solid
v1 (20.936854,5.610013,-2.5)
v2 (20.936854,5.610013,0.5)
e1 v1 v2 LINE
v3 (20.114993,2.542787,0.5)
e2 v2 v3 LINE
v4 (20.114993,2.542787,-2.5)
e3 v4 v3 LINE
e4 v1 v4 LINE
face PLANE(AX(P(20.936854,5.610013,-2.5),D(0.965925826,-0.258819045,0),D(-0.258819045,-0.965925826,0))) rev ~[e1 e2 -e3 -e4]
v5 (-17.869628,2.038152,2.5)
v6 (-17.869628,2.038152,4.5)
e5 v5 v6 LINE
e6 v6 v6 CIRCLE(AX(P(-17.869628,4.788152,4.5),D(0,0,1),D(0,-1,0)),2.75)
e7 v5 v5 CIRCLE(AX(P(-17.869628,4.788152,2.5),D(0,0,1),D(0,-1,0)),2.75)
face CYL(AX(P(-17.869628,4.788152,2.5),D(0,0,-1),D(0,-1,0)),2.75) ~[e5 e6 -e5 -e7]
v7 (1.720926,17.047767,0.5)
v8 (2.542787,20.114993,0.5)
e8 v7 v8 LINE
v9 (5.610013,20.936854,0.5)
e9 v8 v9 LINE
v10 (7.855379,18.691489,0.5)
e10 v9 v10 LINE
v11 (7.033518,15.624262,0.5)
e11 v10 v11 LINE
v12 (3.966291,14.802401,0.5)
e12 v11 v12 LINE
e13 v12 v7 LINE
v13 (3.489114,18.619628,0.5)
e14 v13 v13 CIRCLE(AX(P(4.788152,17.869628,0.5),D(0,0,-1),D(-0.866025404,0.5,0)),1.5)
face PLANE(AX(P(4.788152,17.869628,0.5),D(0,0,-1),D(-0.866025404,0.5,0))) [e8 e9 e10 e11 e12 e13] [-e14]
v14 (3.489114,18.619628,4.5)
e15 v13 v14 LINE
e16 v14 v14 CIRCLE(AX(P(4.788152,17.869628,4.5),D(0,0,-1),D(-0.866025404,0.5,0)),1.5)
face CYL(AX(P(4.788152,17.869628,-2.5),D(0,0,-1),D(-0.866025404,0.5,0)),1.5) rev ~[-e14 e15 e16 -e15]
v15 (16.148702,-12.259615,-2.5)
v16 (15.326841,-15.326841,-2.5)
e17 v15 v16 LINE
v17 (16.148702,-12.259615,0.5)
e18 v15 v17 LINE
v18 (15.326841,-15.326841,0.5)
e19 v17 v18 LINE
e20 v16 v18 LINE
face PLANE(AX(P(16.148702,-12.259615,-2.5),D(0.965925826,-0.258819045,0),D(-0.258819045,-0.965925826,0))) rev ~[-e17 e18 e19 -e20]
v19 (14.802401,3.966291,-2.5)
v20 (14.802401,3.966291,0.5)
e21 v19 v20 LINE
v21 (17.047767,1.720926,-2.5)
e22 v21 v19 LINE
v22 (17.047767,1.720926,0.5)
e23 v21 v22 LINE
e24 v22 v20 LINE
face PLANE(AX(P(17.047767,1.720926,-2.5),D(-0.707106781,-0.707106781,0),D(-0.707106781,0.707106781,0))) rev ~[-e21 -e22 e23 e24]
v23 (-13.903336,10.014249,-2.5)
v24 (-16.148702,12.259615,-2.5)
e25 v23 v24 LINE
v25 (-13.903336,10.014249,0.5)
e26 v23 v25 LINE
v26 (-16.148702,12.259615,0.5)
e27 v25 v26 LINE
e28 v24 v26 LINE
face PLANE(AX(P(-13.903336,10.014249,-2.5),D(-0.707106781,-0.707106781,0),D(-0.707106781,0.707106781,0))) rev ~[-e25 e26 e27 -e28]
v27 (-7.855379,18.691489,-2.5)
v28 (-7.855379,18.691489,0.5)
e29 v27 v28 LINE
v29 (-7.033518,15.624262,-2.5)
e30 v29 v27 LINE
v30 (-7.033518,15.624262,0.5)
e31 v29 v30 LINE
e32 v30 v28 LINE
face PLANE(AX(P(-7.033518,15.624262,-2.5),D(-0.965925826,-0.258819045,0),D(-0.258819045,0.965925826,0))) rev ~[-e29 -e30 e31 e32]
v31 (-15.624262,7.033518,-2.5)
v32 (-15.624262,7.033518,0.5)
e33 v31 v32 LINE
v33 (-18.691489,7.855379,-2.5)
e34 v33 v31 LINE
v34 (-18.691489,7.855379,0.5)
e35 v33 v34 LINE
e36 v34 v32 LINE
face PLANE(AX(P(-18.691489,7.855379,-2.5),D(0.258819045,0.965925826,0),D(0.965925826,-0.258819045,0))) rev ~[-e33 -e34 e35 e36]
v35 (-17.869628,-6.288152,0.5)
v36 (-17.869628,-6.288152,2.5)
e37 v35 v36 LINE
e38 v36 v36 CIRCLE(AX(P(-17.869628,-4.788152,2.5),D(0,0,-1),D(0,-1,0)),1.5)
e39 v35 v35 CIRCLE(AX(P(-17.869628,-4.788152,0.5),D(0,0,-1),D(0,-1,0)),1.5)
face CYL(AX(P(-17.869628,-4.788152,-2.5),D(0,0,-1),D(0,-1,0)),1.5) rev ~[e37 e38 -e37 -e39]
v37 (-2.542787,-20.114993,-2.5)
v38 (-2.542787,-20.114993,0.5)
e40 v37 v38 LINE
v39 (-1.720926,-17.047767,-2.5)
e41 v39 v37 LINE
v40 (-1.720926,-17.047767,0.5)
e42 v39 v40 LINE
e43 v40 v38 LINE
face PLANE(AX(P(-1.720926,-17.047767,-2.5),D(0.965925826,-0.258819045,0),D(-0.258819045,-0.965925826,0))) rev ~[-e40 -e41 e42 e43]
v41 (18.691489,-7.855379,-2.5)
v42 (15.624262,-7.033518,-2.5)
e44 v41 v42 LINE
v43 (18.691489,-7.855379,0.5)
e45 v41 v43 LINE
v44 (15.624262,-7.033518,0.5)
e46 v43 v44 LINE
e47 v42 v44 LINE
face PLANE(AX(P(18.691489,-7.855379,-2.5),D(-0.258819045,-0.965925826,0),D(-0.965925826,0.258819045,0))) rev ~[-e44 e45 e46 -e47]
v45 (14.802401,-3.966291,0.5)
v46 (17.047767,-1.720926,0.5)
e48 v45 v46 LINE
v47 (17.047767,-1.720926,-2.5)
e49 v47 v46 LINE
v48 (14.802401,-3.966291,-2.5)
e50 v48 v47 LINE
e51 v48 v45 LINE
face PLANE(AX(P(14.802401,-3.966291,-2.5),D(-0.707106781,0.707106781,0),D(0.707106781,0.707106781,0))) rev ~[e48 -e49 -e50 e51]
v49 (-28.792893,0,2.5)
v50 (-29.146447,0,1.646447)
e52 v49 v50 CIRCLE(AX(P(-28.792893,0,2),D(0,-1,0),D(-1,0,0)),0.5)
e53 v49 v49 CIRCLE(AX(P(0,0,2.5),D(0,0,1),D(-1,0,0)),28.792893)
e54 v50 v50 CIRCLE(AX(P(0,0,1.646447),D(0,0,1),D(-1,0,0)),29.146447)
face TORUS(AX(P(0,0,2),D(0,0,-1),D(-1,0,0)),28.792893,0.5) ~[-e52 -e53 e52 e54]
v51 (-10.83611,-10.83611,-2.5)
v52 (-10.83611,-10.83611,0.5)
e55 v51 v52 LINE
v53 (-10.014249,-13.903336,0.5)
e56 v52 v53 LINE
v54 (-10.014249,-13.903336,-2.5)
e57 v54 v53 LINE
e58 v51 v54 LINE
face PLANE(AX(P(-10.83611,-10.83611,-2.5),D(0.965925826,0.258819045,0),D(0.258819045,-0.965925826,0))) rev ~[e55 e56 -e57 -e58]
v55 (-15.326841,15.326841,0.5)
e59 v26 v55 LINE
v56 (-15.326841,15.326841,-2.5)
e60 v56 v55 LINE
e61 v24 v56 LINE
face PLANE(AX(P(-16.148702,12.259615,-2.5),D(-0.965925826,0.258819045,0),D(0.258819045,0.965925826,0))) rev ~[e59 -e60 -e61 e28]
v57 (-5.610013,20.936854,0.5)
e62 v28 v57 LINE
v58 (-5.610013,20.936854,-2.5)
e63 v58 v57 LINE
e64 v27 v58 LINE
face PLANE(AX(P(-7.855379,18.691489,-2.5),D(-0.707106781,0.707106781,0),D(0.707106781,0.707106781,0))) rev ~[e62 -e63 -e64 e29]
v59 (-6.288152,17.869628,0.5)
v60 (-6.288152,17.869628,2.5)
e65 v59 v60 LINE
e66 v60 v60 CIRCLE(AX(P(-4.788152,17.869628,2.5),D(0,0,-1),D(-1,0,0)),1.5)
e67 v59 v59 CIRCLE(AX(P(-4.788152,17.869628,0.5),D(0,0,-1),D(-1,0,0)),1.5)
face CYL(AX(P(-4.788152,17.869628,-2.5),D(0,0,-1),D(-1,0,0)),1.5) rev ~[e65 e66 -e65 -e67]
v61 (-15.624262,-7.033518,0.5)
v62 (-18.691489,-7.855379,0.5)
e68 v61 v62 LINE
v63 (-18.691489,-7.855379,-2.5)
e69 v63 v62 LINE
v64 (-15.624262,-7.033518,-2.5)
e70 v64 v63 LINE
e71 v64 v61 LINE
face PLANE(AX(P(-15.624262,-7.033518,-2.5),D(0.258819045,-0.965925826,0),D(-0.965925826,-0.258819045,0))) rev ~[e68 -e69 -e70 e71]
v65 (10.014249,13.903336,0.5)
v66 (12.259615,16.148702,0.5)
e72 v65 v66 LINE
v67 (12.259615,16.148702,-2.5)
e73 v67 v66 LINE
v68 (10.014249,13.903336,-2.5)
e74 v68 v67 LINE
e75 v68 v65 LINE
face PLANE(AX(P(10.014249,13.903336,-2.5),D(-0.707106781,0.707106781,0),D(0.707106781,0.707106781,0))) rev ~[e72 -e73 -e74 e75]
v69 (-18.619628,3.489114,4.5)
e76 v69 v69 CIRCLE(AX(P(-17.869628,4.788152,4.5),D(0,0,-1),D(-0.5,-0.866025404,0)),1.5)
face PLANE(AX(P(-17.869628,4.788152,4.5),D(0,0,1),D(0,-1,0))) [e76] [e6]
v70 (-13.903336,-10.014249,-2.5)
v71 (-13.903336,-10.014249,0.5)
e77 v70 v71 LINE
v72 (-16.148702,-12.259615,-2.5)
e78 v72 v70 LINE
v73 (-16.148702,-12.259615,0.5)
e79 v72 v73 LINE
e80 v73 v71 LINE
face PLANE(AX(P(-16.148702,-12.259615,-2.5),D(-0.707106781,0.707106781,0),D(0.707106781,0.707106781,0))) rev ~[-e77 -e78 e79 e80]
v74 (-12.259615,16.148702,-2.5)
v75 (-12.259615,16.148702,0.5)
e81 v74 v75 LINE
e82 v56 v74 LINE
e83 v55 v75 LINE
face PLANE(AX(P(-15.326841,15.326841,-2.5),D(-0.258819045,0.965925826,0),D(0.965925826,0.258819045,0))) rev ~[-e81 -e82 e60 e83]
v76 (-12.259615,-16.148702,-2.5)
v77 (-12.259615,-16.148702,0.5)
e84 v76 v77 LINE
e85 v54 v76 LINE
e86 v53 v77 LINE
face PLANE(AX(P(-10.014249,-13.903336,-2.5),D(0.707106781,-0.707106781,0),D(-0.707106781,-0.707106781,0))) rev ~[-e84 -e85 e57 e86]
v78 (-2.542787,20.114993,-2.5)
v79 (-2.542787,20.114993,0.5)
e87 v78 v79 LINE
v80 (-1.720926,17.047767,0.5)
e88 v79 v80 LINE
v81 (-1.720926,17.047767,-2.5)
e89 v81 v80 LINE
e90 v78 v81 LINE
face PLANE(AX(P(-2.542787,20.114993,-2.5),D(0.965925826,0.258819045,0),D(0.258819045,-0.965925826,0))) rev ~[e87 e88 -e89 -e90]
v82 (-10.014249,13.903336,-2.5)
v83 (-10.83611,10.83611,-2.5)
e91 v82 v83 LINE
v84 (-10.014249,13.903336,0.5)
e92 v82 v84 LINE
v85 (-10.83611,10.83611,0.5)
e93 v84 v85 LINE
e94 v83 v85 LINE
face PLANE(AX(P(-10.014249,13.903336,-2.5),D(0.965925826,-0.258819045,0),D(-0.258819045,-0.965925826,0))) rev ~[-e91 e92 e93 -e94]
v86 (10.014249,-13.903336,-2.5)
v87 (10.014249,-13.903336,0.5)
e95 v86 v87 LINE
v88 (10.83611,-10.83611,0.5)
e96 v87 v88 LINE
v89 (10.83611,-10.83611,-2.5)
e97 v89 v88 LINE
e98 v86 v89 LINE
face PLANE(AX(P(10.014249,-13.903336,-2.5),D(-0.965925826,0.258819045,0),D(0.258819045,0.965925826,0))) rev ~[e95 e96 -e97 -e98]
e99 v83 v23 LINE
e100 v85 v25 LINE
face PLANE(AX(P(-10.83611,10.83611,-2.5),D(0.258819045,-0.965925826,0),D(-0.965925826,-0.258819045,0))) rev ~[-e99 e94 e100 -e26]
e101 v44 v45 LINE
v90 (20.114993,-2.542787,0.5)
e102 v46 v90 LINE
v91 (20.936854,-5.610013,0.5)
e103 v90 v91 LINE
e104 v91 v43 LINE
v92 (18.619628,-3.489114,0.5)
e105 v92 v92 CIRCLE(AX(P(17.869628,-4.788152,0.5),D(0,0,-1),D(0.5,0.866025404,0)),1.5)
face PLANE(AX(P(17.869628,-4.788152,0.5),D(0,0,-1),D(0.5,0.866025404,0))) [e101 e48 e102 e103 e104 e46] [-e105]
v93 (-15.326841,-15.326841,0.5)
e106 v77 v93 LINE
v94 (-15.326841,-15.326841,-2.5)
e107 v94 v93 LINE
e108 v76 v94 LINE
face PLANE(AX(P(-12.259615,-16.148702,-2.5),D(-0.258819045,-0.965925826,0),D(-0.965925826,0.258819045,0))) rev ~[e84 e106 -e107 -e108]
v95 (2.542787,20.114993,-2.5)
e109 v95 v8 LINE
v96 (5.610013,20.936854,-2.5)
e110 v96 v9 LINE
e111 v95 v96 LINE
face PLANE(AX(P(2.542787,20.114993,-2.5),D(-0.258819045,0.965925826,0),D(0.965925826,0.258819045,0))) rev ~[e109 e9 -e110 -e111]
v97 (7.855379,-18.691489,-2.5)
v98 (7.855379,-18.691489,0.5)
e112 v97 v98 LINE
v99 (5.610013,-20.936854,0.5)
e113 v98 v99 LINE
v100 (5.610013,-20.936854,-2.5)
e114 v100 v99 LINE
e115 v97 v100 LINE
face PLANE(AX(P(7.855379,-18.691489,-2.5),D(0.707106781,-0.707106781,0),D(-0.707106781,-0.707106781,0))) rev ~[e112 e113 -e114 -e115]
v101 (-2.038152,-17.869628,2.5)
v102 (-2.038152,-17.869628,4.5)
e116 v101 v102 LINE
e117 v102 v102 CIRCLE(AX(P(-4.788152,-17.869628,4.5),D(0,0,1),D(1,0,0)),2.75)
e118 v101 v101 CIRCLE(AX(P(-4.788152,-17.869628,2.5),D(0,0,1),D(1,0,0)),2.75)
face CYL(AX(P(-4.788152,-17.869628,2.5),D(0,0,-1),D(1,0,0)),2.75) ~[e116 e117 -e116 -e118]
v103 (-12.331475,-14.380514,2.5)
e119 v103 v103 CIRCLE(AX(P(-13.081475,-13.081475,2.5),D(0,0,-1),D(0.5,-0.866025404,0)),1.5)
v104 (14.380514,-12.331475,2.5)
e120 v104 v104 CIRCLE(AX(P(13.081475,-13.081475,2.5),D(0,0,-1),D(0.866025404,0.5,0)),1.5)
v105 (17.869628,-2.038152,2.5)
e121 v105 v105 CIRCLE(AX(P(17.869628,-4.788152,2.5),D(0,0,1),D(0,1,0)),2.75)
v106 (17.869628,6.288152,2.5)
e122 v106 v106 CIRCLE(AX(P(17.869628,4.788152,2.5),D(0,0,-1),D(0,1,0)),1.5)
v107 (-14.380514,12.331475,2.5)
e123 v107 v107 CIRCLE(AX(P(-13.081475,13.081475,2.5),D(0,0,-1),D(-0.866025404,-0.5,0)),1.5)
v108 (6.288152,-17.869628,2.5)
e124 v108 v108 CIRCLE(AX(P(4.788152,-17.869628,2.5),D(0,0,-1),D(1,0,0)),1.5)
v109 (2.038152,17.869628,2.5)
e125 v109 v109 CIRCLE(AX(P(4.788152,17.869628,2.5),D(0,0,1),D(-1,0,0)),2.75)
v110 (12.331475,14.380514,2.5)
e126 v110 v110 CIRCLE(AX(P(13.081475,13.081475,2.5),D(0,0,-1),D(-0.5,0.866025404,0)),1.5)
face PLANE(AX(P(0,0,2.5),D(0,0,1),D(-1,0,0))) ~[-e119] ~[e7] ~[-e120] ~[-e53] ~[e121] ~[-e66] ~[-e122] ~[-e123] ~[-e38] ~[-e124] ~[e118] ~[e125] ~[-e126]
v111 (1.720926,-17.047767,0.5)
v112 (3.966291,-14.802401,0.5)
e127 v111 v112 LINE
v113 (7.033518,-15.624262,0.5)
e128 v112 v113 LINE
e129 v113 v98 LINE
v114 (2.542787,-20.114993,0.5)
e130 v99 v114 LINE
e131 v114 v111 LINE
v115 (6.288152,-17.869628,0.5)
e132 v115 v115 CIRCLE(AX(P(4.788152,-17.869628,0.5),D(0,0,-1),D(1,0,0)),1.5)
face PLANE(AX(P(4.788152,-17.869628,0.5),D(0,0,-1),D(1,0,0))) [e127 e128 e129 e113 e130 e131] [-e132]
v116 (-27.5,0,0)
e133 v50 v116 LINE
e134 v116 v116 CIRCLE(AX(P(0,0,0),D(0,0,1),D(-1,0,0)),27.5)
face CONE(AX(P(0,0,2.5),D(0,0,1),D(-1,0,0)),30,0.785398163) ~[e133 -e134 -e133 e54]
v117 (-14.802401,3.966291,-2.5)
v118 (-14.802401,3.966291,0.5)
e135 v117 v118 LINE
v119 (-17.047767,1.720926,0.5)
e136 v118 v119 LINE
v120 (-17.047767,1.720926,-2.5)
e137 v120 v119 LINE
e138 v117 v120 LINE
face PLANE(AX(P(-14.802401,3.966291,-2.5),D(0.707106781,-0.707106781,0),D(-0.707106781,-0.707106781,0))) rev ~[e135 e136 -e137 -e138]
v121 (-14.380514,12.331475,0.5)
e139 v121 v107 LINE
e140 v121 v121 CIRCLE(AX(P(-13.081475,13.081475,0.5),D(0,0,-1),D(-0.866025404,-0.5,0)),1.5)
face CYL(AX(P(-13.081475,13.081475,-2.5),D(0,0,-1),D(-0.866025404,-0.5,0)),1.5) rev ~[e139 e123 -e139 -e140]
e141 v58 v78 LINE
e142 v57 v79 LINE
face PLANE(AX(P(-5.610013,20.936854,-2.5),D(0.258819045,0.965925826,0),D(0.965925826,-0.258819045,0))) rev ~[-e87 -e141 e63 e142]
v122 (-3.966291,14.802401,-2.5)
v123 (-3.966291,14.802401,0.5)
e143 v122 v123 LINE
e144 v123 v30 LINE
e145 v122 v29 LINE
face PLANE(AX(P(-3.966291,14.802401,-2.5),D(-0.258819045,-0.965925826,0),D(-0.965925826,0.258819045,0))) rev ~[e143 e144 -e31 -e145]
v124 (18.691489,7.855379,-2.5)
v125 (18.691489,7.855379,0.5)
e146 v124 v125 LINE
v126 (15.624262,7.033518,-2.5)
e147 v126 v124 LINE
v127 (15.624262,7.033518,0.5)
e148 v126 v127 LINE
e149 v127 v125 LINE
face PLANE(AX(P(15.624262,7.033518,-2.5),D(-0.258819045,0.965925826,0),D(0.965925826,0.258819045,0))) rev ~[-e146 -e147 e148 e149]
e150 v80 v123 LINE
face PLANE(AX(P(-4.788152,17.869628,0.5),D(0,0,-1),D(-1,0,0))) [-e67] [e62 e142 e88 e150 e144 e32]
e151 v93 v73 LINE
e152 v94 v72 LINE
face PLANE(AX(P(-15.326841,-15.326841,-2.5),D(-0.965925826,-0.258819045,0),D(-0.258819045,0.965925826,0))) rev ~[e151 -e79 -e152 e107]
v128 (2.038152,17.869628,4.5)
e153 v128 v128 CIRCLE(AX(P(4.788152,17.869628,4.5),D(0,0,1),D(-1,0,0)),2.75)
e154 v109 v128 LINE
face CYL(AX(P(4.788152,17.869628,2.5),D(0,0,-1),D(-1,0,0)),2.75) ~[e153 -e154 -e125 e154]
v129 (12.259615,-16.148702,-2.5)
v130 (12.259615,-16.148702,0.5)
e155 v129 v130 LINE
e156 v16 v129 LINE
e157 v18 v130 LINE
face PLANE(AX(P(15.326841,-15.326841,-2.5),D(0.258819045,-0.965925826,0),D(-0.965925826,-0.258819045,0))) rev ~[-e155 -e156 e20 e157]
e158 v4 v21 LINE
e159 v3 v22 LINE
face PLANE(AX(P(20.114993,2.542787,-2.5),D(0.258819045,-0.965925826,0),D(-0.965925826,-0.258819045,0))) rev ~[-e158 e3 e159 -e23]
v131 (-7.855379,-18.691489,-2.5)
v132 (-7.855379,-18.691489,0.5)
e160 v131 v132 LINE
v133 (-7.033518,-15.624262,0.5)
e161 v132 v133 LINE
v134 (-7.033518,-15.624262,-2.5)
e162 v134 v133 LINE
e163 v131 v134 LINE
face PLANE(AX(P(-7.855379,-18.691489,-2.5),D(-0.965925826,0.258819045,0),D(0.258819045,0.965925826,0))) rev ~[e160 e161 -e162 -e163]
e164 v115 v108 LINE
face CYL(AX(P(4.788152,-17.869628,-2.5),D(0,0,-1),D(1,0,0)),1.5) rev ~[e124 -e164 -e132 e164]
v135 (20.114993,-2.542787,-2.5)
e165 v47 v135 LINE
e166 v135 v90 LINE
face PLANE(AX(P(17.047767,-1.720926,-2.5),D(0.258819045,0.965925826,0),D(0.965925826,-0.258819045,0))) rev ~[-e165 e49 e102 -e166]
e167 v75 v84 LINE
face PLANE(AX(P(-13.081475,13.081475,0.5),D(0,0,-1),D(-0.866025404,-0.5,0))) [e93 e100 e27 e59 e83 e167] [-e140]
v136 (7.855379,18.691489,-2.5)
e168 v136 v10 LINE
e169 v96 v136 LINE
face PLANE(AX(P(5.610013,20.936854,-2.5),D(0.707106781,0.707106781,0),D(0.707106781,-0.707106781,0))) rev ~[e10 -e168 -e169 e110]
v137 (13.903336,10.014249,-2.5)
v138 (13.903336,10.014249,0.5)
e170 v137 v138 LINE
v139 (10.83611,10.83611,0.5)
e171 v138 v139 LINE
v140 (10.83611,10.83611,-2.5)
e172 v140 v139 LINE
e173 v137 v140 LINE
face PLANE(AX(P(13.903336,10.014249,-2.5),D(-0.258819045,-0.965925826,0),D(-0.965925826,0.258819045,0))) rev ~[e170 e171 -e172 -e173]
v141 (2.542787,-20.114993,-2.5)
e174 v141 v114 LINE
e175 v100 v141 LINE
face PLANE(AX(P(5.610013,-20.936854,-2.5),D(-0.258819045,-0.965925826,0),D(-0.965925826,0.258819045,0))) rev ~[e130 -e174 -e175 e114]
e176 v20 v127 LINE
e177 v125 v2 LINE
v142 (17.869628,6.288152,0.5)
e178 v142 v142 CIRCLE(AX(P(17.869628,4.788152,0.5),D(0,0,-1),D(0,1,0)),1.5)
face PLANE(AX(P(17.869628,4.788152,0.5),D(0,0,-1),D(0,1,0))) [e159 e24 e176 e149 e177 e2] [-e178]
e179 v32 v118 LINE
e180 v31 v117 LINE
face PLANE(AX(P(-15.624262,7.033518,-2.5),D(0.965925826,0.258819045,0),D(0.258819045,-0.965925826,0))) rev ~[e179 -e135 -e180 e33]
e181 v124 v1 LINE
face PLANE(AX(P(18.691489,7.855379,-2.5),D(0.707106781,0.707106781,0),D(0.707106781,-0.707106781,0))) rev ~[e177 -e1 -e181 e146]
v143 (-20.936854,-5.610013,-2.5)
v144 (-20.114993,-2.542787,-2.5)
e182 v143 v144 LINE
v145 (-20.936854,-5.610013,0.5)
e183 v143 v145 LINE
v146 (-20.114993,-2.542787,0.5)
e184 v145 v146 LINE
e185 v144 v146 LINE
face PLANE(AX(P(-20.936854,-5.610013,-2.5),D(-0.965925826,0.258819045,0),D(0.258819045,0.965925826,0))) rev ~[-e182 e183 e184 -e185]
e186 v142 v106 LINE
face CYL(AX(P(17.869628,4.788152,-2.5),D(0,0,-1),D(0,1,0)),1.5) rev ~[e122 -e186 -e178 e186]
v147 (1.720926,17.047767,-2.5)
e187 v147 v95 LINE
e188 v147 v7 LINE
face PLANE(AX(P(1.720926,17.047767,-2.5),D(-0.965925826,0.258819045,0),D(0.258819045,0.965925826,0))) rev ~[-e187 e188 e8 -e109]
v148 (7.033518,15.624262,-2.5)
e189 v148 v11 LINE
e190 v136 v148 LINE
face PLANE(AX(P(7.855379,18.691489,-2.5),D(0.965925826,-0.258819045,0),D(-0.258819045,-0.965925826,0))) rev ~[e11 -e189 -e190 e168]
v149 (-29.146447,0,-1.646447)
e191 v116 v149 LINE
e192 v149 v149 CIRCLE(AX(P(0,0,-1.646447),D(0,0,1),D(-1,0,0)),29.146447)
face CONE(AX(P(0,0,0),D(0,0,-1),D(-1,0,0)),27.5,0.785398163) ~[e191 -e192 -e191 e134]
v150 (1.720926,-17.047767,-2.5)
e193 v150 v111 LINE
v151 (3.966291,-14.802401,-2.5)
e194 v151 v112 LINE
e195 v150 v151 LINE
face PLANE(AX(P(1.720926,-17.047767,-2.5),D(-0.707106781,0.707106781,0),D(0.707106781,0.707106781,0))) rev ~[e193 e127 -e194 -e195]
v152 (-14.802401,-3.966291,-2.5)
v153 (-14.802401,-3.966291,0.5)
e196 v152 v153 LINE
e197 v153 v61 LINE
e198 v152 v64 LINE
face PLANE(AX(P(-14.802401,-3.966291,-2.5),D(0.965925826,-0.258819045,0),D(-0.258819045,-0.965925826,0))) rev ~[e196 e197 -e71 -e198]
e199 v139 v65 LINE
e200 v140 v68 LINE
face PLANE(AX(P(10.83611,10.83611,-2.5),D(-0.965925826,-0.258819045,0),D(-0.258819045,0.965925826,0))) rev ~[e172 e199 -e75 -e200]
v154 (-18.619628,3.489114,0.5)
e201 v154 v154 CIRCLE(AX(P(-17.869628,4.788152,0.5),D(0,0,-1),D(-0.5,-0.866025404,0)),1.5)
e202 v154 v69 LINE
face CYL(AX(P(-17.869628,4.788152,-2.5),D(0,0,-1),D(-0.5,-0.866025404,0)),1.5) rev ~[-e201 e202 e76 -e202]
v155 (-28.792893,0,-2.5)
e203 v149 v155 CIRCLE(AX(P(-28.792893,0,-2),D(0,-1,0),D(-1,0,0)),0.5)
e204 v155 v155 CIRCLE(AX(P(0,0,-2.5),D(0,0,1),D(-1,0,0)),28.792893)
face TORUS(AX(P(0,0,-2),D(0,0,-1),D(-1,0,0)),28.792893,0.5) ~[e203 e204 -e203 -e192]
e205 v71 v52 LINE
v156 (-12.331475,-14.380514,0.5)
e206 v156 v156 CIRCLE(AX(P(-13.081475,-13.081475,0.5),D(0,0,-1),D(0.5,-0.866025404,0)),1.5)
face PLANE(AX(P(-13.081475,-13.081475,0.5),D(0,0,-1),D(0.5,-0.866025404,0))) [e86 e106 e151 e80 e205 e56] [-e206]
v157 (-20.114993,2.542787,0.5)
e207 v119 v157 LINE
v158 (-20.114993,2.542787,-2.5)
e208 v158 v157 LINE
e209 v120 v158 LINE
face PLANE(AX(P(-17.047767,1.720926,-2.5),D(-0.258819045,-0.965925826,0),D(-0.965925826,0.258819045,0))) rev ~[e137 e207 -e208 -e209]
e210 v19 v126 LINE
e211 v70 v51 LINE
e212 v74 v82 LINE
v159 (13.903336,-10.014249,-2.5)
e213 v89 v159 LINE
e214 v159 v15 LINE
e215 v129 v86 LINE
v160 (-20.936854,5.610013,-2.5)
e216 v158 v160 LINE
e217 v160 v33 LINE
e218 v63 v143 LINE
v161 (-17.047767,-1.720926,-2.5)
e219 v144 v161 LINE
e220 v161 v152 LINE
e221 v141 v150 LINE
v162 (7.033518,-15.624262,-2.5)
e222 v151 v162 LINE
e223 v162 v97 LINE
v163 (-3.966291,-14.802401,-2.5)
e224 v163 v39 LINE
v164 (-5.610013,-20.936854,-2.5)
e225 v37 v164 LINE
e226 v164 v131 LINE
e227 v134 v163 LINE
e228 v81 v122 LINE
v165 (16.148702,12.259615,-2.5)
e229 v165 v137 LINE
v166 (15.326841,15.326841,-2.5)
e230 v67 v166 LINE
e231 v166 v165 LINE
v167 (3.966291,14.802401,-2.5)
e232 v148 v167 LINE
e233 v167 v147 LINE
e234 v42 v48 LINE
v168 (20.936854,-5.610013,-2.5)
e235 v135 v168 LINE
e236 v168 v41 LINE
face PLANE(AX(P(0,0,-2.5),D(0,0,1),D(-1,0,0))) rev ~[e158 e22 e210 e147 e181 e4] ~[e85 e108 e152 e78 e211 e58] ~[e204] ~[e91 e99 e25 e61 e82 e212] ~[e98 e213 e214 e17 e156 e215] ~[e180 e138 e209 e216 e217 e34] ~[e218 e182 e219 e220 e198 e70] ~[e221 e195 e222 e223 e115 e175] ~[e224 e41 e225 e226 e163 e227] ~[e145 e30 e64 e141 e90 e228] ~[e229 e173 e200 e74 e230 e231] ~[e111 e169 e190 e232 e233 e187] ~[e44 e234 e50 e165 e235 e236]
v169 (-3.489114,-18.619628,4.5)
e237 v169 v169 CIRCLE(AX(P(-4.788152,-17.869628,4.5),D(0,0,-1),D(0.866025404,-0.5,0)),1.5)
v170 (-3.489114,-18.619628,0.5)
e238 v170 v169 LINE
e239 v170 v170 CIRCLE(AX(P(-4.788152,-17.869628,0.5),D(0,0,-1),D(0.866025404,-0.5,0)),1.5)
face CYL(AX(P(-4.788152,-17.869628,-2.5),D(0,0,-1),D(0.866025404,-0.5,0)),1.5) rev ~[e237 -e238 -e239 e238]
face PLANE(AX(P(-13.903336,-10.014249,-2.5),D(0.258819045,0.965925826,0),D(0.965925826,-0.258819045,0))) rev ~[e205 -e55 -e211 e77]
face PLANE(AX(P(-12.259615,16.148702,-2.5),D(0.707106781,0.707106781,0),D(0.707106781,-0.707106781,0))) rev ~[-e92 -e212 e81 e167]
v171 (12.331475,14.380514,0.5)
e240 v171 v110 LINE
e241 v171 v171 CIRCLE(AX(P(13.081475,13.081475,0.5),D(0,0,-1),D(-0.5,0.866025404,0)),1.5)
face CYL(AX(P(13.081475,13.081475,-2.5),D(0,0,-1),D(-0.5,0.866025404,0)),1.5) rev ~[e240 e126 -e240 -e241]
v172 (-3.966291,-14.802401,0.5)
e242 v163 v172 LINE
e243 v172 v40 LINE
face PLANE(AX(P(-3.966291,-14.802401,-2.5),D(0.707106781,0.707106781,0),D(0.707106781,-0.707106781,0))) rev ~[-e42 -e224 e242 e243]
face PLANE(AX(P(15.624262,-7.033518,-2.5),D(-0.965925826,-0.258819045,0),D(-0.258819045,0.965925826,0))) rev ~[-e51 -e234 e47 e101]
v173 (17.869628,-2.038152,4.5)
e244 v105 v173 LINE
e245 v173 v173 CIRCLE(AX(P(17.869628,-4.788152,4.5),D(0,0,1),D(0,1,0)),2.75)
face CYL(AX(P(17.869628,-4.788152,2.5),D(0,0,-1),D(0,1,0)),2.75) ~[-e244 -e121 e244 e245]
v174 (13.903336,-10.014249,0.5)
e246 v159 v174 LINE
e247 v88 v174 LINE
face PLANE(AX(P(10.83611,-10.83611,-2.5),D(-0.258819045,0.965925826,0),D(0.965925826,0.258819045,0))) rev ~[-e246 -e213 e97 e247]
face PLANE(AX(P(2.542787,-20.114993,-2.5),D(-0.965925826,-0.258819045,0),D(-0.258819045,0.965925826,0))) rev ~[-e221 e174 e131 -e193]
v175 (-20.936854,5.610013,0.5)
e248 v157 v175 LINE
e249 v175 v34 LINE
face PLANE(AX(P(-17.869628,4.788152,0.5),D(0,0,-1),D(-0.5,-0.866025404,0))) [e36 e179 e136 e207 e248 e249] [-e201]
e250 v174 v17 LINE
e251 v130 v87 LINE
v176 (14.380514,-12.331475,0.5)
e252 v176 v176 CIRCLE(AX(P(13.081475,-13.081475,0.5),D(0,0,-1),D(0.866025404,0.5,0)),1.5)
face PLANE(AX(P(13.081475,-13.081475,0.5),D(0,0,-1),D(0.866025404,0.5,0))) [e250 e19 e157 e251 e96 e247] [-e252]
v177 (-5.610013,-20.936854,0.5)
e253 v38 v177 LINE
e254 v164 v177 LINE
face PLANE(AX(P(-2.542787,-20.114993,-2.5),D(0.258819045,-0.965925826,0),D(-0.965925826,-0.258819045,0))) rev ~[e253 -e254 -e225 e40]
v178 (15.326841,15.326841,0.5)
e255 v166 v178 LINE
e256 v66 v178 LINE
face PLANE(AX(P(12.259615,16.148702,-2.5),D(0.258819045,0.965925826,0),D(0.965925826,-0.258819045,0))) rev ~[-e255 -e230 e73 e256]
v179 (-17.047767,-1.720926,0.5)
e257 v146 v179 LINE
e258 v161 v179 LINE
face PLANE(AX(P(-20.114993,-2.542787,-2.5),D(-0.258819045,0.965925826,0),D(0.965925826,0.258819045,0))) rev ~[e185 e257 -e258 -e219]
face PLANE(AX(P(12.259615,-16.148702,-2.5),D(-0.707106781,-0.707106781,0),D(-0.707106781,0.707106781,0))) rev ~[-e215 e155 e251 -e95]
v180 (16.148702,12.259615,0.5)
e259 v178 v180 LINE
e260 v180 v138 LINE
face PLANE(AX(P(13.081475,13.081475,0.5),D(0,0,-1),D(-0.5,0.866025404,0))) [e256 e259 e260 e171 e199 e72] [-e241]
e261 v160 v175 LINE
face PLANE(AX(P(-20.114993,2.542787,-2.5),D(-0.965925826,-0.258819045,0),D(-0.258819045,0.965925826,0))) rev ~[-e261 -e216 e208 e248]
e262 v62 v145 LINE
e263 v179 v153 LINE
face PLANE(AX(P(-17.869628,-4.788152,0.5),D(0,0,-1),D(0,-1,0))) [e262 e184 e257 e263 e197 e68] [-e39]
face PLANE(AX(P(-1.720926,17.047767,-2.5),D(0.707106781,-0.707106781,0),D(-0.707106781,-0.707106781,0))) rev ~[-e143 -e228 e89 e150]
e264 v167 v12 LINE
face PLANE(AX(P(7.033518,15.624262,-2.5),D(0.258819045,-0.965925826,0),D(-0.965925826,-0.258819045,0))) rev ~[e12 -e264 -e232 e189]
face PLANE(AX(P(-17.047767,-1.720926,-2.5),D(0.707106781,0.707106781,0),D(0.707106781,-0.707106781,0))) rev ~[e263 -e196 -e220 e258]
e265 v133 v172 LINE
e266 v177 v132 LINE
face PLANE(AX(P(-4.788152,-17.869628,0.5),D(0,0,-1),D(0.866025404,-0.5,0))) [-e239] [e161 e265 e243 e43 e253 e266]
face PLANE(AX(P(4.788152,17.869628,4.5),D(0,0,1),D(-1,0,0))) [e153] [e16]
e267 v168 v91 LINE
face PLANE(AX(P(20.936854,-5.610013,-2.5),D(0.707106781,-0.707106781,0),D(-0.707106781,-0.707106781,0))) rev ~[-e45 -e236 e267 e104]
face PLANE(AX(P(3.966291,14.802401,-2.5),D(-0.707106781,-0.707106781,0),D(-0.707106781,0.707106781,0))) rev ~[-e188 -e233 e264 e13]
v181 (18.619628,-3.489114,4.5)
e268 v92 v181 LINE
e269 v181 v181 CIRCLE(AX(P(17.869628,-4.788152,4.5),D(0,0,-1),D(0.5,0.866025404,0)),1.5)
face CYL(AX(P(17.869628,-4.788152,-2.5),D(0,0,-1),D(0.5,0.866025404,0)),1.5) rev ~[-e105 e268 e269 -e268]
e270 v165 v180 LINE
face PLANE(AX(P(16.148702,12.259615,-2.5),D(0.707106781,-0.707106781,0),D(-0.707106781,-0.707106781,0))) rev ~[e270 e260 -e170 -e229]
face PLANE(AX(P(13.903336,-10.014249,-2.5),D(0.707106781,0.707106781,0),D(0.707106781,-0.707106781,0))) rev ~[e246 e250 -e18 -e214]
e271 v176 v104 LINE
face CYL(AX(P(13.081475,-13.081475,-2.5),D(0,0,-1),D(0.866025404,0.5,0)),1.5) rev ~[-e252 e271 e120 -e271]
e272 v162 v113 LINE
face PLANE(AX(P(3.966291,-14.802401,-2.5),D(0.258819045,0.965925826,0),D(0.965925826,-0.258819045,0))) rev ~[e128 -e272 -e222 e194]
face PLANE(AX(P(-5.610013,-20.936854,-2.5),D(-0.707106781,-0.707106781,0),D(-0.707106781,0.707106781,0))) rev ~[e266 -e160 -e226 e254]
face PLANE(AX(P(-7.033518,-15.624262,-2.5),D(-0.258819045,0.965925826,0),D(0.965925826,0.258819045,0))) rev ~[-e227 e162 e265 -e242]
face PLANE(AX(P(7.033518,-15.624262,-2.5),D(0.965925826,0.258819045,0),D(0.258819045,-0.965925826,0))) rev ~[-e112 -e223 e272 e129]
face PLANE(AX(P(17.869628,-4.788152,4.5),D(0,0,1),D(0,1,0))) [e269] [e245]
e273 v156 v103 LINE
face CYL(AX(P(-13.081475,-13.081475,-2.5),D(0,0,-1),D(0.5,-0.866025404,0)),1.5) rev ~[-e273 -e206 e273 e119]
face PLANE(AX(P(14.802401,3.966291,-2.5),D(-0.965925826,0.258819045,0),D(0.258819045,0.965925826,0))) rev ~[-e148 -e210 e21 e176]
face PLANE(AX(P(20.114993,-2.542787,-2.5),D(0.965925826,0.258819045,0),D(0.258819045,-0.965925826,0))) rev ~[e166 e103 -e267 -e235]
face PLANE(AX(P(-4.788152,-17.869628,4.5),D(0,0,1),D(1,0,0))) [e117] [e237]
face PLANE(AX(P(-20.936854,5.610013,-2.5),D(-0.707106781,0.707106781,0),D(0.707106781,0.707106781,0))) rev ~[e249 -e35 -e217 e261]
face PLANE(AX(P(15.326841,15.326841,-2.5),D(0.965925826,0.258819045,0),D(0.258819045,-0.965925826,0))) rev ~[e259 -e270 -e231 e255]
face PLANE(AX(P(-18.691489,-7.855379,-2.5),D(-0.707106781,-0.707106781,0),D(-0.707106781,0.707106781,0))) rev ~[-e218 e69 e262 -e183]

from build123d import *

# Parameters (mm, degrees)
SKETCH_3_R                         = 2.75
EXTRUDE_1_DEPTH                    = 2
PATTERN_CIRCULAR_1_COUNT           = 4
SKETCH_7_R                         = 1.5
CUT_EXTRUDE_3_DEPTH                = 10
CUT_EXTRUDE_4_DEPTH                = 3
PATTERN_CIRCULAR_3_COUNT           = 3
PATTERN_CIRCULAR_3_ANGLE           = 60
PATTERN_CIRCULAR_4_COUNT           = 4
PATTERN_CIRCULAR_4_COPY_1_SKETCH_R = 1.5
PATTERN_CIRCULAR_4_COPY_1_DEPTH    = 10
PATTERN_CIRCULAR_4_COPY_2_SKETCH_R = 1.5
PATTERN_CIRCULAR_4_COPY_2_DEPTH    = 10
PATTERN_CIRCULAR_4_COPY_3_SKETCH_R = 1.5
PATTERN_CIRCULAR_4_COPY_3_DEPTH    = 10
PATTERN_CIRCULAR_4_COPY_4_SKETCH_R = 1.5
PATTERN_CIRCULAR_4_COPY_4_DEPTH    = 10
PATTERN_CIRCULAR_4_COPY_5_SKETCH_R = 1.5
PATTERN_CIRCULAR_4_COPY_5_DEPTH    = 10
PATTERN_CIRCULAR_4_COPY_6_SKETCH_R = 1.5
PATTERN_CIRCULAR_4_COPY_6_DEPTH    = 10
PATTERN_CIRCULAR_4_COPY_7_DEPTH    = 3
PATTERN_CIRCULAR_4_COPY_8_DEPTH    = 3
PATTERN_CIRCULAR_4_COPY_9_DEPTH    = 3
PATTERN_CIRCULAR_4_COPY_10_DEPTH   = 3
PATTERN_CIRCULAR_4_COPY_11_DEPTH   = 3
PATTERN_CIRCULAR_4_COPY_12_DEPTH   = 3
FILLET_1_R                         = 0.5


with BuildPart() as part:
    # 草图2 → 旋转1 (revolve)
    with BuildSketch(Plane(origin=(0, 0, 0), x_dir=(1, 0, 0), z_dir=(0, 1, 0)), mode=Mode.PRIVATE) as revolve_1_sk:
        Polygon((0, -2.5), (30, -2.5), (27.5, 0), (30, 2.5), (0, 2.5), align=None)
    revolve(revolve_1_sk.sketch.rotate(Axis((0, 0, -2.5), (0, 0, 1)), 180), axis=Axis((0, 0, -2.5), (0, 0, 1)))

    # 草图3 → 凸台-拉伸1 (add)
    with BuildSketch(Plane.XY.offset(2.5)):
        with Locations(Location((4.788152334, 17.869627786, 0), (0, 0, 180))):
            Circle(SKETCH_3_R)
    extrude_1 = extrude(amount=EXTRUDE_1_DEPTH)

    # 阵列(圆周)1: 凸台-拉伸1 ×4 about axis
    pattern_circular_1_axis = Axis((0, 0, 0), (0, 0, 1))
    for i in range(1, PATTERN_CIRCULAR_1_COUNT):
        add(extrude_1.rotate(pattern_circular_1_axis, i * 360 / PATTERN_CIRCULAR_1_COUNT))

    # 草图7 → 切除-拉伸3 (cut)
    with BuildSketch(Plane(origin=(0, 0, -2.5), x_dir=(-1, 0, 0), z_dir=(0, 0, -1))):
        with Locations((4.788152334, 17.869627786)):
            Circle(SKETCH_7_R)
    cut_extrude_3 = extrude(amount=-CUT_EXTRUDE_3_DEPTH, mode=Mode.SUBTRACT)

    # 草图8 → 切除-拉伸4 (cut)
    with BuildSketch(Plane(origin=(0, 0, -2.5), x_dir=(-1, 0, 0), z_dir=(0, 0, -1))):
        Polygon((3.966291485, 14.802401339), (7.033517932, 15.624262189), (7.855378781, 18.691488636), (5.610013184, 20.936854233), (2.542786737, 20.114993384), (1.720925887, 17.047766937), align=None)
    cut_extrude_4 = extrude(amount=-CUT_EXTRUDE_4_DEPTH, mode=Mode.SUBTRACT)

    # 阵列(圆周)3: 切除-拉伸3, 切除-拉伸4 ×3 about axis
    pattern_circular_3_axis = Axis((0, 0, 0), (0, 0, 1))
    add([cut_extrude_3.rotate(pattern_circular_3_axis, i * PATTERN_CIRCULAR_3_ANGLE / (PATTERN_CIRCULAR_3_COUNT - 1)) for i in range(1, PATTERN_CIRCULAR_3_COUNT)], mode=Mode.SUBTRACT)
    add([cut_extrude_4.rotate(pattern_circular_3_axis, i * PATTERN_CIRCULAR_3_ANGLE / (PATTERN_CIRCULAR_3_COUNT - 1)) for i in range(1, PATTERN_CIRCULAR_3_COUNT)], mode=Mode.SUBTRACT)

    # 阵列(圆周)4: 切除-拉伸3, 切除-拉伸4 ×4 about axis
    pattern_circular_4_axis = Axis((0, 0, 2.5), (0, 0, -1))
    add([cut_extrude_3.rotate(pattern_circular_4_axis, i * 360 / PATTERN_CIRCULAR_4_COUNT) for i in range(1, PATTERN_CIRCULAR_4_COUNT)], mode=Mode.SUBTRACT)
    add([cut_extrude_4.rotate(pattern_circular_4_axis, i * 360 / PATTERN_CIRCULAR_4_COUNT) for i in range(1, PATTERN_CIRCULAR_4_COUNT)], mode=Mode.SUBTRACT)

    # 阵列(圆周)4 copy 1 sketch → 阵列(圆周)4 copy 1 (cut)
    with BuildSketch(Plane(origin=(0, 0, -2.5), x_dir=(-0.5000000000000011, 0.866025403784438, 0), z_dir=(0, 0, -1))):
        with Locations((4.788152334, 17.869627786)):
            Circle(PATTERN_CIRCULAR_4_COPY_1_SKETCH_R)
    extrude(amount=-PATTERN_CIRCULAR_4_COPY_1_DEPTH, mode=Mode.SUBTRACT)

    # 阵列(圆周)4 copy 2 sketch → 阵列(圆周)4 copy 2 (cut)
    with BuildSketch(Plane(origin=(0, 0, -2.5), x_dir=(0.8660254037844379, 0.5000000000000012, 0), z_dir=(0, 0, -1))):
        with Locations((4.788152334, 17.869627786)):
            Circle(PATTERN_CIRCULAR_4_COPY_2_SKETCH_R)
    extrude(amount=-PATTERN_CIRCULAR_4_COPY_2_DEPTH, mode=Mode.SUBTRACT)

    # 阵列(圆周)4 copy 3 sketch → 阵列(圆周)4 copy 3 (cut)
    with BuildSketch(Plane(origin=(0, 0, -2.5), x_dir=(0.5000000000000012, -0.8660254037844379, 0), z_dir=(0, 0, -1))):
        with Locations((4.788152334, 17.869627786)):
            Circle(PATTERN_CIRCULAR_4_COPY_3_SKETCH_R)
    extrude(amount=-PATTERN_CIRCULAR_4_COPY_3_DEPTH, mode=Mode.SUBTRACT)

    # 阵列(圆周)4 copy 4 sketch → 阵列(圆周)4 copy 4 (cut)
    with BuildSketch(Plane(origin=(0, 0, -2.5), x_dir=(-0.8660254037844399, 0.4999999999999977, 0), z_dir=(0, 0, -1))):
        with Locations((4.788152334, 17.869627786)):
            Circle(PATTERN_CIRCULAR_4_COPY_4_SKETCH_R)
    extrude(amount=-PATTERN_CIRCULAR_4_COPY_4_DEPTH, mode=Mode.SUBTRACT)

    # 阵列(圆周)4 copy 5 sketch → 阵列(圆周)4 copy 5 (cut)
    with BuildSketch(Plane(origin=(0, 0, -2.5), x_dir=(0.49999999999999767, 0.86602540378444, 0), z_dir=(0, 0, -1))):
        with Locations((4.788152334, 17.869627786)):
            Circle(PATTERN_CIRCULAR_4_COPY_5_SKETCH_R)
    extrude(amount=-PATTERN_CIRCULAR_4_COPY_5_DEPTH, mode=Mode.SUBTRACT)

    # 阵列(圆周)4 copy 6 sketch → 阵列(圆周)4 copy 6 (cut)
    with BuildSketch(Plane(origin=(0, 0, -2.5), x_dir=(0.86602540378444, -0.4999999999999976, 0), z_dir=(0, 0, -1))):
        with Locations((4.788152334, 17.869627786)):
            Circle(PATTERN_CIRCULAR_4_COPY_6_SKETCH_R)
    extrude(amount=-PATTERN_CIRCULAR_4_COPY_6_DEPTH, mode=Mode.SUBTRACT)

    # 阵列(圆周)4 copy 7 sketch → 阵列(圆周)4 copy 7 (cut)
    with BuildSketch(Plane(origin=(0, 0, -2.5), x_dir=(-0.5000000000000011, 0.866025403784438, 0), z_dir=(0, 0, -1))):
        Polygon((3.966291485, 14.802401339), (7.033517932, 15.624262189), (7.855378781, 18.691488636), (5.610013184, 20.936854233), (2.542786737, 20.114993384), (1.720925887, 17.047766937), align=None)
    extrude(amount=-PATTERN_CIRCULAR_4_COPY_7_DEPTH, mode=Mode.SUBTRACT)

    # 阵列(圆周)4 copy 8 sketch → 阵列(圆周)4 copy 8 (cut)
    with BuildSketch(Plane(origin=(0, 0, -2.5), x_dir=(0.8660254037844379, 0.5000000000000012, 0), z_dir=(0, 0, -1))):
        Polygon((3.966291485, 14.802401339), (7.033517932, 15.624262189), (7.855378781, 18.691488636), (5.610013184, 20.936854233), (2.542786737, 20.114993384), (1.720925887, 17.047766937), align=None)
    extrude(amount=-PATTERN_CIRCULAR_4_COPY_8_DEPTH, mode=Mode.SUBTRACT)

    # 阵列(圆周)4 copy 9 sketch → 阵列(圆周)4 copy 9 (cut)
    with BuildSketch(Plane(origin=(0, 0, -2.5), x_dir=(0.5000000000000012, -0.8660254037844379, 0), z_dir=(0, 0, -1))):
        Polygon((3.966291485, 14.802401339), (7.033517932, 15.624262189), (7.855378781, 18.691488636), (5.610013184, 20.936854233), (2.542786737, 20.114993384), (1.720925887, 17.047766937), align=None)
    extrude(amount=-PATTERN_CIRCULAR_4_COPY_9_DEPTH, mode=Mode.SUBTRACT)

    # 阵列(圆周)4 copy 10 sketch → 阵列(圆周)4 copy 10 (cut)
    with BuildSketch(Plane(origin=(0, 0, -2.5), x_dir=(-0.8660254037844399, 0.4999999999999977, 0), z_dir=(0, 0, -1))):
        Polygon((3.966291485, 14.802401339), (7.033517932, 15.624262189), (7.855378781, 18.691488636), (5.610013184, 20.936854233), (2.542786737, 20.114993384), (1.720925887, 17.047766937), align=None)
    extrude(amount=-PATTERN_CIRCULAR_4_COPY_10_DEPTH, mode=Mode.SUBTRACT)

    # 阵列(圆周)4 copy 11 sketch → 阵列(圆周)4 copy 11 (cut)
    with BuildSketch(Plane(origin=(0, 0, -2.5), x_dir=(0.49999999999999767, 0.86602540378444, 0), z_dir=(0, 0, -1))):
        Polygon((3.966291485, 14.802401339), (7.033517932, 15.624262189), (7.855378781, 18.691488636), (5.610013184, 20.936854233), (2.542786737, 20.114993384), (1.720925887, 17.047766937), align=None)
    extrude(amount=-PATTERN_CIRCULAR_4_COPY_11_DEPTH, mode=Mode.SUBTRACT)

    # 阵列(圆周)4 copy 12 sketch → 阵列(圆周)4 copy 12 (cut)
    with BuildSketch(Plane(origin=(0, 0, -2.5), x_dir=(0.86602540378444, -0.4999999999999976, 0), z_dir=(0, 0, -1))):
        Polygon((3.966291485, 14.802401339), (7.033517932, 15.624262189), (7.855378781, 18.691488636), (5.610013184, 20.936854233), (2.542786737, 20.114993384), (1.720925887, 17.047766937), align=None)
    extrude(amount=-PATTERN_CIRCULAR_4_COPY_12_DEPTH, mode=Mode.SUBTRACT)

    # 圆角1
    fillet_1_edges = [part.edges().sort_by_distance(p)[0] for p in [
        (30, 0, -2.5),
        (30, 0, 2.5),
    ]]
    fillet(fillet_1_edges, radius=FILLET_1_R)


solid = part.part
